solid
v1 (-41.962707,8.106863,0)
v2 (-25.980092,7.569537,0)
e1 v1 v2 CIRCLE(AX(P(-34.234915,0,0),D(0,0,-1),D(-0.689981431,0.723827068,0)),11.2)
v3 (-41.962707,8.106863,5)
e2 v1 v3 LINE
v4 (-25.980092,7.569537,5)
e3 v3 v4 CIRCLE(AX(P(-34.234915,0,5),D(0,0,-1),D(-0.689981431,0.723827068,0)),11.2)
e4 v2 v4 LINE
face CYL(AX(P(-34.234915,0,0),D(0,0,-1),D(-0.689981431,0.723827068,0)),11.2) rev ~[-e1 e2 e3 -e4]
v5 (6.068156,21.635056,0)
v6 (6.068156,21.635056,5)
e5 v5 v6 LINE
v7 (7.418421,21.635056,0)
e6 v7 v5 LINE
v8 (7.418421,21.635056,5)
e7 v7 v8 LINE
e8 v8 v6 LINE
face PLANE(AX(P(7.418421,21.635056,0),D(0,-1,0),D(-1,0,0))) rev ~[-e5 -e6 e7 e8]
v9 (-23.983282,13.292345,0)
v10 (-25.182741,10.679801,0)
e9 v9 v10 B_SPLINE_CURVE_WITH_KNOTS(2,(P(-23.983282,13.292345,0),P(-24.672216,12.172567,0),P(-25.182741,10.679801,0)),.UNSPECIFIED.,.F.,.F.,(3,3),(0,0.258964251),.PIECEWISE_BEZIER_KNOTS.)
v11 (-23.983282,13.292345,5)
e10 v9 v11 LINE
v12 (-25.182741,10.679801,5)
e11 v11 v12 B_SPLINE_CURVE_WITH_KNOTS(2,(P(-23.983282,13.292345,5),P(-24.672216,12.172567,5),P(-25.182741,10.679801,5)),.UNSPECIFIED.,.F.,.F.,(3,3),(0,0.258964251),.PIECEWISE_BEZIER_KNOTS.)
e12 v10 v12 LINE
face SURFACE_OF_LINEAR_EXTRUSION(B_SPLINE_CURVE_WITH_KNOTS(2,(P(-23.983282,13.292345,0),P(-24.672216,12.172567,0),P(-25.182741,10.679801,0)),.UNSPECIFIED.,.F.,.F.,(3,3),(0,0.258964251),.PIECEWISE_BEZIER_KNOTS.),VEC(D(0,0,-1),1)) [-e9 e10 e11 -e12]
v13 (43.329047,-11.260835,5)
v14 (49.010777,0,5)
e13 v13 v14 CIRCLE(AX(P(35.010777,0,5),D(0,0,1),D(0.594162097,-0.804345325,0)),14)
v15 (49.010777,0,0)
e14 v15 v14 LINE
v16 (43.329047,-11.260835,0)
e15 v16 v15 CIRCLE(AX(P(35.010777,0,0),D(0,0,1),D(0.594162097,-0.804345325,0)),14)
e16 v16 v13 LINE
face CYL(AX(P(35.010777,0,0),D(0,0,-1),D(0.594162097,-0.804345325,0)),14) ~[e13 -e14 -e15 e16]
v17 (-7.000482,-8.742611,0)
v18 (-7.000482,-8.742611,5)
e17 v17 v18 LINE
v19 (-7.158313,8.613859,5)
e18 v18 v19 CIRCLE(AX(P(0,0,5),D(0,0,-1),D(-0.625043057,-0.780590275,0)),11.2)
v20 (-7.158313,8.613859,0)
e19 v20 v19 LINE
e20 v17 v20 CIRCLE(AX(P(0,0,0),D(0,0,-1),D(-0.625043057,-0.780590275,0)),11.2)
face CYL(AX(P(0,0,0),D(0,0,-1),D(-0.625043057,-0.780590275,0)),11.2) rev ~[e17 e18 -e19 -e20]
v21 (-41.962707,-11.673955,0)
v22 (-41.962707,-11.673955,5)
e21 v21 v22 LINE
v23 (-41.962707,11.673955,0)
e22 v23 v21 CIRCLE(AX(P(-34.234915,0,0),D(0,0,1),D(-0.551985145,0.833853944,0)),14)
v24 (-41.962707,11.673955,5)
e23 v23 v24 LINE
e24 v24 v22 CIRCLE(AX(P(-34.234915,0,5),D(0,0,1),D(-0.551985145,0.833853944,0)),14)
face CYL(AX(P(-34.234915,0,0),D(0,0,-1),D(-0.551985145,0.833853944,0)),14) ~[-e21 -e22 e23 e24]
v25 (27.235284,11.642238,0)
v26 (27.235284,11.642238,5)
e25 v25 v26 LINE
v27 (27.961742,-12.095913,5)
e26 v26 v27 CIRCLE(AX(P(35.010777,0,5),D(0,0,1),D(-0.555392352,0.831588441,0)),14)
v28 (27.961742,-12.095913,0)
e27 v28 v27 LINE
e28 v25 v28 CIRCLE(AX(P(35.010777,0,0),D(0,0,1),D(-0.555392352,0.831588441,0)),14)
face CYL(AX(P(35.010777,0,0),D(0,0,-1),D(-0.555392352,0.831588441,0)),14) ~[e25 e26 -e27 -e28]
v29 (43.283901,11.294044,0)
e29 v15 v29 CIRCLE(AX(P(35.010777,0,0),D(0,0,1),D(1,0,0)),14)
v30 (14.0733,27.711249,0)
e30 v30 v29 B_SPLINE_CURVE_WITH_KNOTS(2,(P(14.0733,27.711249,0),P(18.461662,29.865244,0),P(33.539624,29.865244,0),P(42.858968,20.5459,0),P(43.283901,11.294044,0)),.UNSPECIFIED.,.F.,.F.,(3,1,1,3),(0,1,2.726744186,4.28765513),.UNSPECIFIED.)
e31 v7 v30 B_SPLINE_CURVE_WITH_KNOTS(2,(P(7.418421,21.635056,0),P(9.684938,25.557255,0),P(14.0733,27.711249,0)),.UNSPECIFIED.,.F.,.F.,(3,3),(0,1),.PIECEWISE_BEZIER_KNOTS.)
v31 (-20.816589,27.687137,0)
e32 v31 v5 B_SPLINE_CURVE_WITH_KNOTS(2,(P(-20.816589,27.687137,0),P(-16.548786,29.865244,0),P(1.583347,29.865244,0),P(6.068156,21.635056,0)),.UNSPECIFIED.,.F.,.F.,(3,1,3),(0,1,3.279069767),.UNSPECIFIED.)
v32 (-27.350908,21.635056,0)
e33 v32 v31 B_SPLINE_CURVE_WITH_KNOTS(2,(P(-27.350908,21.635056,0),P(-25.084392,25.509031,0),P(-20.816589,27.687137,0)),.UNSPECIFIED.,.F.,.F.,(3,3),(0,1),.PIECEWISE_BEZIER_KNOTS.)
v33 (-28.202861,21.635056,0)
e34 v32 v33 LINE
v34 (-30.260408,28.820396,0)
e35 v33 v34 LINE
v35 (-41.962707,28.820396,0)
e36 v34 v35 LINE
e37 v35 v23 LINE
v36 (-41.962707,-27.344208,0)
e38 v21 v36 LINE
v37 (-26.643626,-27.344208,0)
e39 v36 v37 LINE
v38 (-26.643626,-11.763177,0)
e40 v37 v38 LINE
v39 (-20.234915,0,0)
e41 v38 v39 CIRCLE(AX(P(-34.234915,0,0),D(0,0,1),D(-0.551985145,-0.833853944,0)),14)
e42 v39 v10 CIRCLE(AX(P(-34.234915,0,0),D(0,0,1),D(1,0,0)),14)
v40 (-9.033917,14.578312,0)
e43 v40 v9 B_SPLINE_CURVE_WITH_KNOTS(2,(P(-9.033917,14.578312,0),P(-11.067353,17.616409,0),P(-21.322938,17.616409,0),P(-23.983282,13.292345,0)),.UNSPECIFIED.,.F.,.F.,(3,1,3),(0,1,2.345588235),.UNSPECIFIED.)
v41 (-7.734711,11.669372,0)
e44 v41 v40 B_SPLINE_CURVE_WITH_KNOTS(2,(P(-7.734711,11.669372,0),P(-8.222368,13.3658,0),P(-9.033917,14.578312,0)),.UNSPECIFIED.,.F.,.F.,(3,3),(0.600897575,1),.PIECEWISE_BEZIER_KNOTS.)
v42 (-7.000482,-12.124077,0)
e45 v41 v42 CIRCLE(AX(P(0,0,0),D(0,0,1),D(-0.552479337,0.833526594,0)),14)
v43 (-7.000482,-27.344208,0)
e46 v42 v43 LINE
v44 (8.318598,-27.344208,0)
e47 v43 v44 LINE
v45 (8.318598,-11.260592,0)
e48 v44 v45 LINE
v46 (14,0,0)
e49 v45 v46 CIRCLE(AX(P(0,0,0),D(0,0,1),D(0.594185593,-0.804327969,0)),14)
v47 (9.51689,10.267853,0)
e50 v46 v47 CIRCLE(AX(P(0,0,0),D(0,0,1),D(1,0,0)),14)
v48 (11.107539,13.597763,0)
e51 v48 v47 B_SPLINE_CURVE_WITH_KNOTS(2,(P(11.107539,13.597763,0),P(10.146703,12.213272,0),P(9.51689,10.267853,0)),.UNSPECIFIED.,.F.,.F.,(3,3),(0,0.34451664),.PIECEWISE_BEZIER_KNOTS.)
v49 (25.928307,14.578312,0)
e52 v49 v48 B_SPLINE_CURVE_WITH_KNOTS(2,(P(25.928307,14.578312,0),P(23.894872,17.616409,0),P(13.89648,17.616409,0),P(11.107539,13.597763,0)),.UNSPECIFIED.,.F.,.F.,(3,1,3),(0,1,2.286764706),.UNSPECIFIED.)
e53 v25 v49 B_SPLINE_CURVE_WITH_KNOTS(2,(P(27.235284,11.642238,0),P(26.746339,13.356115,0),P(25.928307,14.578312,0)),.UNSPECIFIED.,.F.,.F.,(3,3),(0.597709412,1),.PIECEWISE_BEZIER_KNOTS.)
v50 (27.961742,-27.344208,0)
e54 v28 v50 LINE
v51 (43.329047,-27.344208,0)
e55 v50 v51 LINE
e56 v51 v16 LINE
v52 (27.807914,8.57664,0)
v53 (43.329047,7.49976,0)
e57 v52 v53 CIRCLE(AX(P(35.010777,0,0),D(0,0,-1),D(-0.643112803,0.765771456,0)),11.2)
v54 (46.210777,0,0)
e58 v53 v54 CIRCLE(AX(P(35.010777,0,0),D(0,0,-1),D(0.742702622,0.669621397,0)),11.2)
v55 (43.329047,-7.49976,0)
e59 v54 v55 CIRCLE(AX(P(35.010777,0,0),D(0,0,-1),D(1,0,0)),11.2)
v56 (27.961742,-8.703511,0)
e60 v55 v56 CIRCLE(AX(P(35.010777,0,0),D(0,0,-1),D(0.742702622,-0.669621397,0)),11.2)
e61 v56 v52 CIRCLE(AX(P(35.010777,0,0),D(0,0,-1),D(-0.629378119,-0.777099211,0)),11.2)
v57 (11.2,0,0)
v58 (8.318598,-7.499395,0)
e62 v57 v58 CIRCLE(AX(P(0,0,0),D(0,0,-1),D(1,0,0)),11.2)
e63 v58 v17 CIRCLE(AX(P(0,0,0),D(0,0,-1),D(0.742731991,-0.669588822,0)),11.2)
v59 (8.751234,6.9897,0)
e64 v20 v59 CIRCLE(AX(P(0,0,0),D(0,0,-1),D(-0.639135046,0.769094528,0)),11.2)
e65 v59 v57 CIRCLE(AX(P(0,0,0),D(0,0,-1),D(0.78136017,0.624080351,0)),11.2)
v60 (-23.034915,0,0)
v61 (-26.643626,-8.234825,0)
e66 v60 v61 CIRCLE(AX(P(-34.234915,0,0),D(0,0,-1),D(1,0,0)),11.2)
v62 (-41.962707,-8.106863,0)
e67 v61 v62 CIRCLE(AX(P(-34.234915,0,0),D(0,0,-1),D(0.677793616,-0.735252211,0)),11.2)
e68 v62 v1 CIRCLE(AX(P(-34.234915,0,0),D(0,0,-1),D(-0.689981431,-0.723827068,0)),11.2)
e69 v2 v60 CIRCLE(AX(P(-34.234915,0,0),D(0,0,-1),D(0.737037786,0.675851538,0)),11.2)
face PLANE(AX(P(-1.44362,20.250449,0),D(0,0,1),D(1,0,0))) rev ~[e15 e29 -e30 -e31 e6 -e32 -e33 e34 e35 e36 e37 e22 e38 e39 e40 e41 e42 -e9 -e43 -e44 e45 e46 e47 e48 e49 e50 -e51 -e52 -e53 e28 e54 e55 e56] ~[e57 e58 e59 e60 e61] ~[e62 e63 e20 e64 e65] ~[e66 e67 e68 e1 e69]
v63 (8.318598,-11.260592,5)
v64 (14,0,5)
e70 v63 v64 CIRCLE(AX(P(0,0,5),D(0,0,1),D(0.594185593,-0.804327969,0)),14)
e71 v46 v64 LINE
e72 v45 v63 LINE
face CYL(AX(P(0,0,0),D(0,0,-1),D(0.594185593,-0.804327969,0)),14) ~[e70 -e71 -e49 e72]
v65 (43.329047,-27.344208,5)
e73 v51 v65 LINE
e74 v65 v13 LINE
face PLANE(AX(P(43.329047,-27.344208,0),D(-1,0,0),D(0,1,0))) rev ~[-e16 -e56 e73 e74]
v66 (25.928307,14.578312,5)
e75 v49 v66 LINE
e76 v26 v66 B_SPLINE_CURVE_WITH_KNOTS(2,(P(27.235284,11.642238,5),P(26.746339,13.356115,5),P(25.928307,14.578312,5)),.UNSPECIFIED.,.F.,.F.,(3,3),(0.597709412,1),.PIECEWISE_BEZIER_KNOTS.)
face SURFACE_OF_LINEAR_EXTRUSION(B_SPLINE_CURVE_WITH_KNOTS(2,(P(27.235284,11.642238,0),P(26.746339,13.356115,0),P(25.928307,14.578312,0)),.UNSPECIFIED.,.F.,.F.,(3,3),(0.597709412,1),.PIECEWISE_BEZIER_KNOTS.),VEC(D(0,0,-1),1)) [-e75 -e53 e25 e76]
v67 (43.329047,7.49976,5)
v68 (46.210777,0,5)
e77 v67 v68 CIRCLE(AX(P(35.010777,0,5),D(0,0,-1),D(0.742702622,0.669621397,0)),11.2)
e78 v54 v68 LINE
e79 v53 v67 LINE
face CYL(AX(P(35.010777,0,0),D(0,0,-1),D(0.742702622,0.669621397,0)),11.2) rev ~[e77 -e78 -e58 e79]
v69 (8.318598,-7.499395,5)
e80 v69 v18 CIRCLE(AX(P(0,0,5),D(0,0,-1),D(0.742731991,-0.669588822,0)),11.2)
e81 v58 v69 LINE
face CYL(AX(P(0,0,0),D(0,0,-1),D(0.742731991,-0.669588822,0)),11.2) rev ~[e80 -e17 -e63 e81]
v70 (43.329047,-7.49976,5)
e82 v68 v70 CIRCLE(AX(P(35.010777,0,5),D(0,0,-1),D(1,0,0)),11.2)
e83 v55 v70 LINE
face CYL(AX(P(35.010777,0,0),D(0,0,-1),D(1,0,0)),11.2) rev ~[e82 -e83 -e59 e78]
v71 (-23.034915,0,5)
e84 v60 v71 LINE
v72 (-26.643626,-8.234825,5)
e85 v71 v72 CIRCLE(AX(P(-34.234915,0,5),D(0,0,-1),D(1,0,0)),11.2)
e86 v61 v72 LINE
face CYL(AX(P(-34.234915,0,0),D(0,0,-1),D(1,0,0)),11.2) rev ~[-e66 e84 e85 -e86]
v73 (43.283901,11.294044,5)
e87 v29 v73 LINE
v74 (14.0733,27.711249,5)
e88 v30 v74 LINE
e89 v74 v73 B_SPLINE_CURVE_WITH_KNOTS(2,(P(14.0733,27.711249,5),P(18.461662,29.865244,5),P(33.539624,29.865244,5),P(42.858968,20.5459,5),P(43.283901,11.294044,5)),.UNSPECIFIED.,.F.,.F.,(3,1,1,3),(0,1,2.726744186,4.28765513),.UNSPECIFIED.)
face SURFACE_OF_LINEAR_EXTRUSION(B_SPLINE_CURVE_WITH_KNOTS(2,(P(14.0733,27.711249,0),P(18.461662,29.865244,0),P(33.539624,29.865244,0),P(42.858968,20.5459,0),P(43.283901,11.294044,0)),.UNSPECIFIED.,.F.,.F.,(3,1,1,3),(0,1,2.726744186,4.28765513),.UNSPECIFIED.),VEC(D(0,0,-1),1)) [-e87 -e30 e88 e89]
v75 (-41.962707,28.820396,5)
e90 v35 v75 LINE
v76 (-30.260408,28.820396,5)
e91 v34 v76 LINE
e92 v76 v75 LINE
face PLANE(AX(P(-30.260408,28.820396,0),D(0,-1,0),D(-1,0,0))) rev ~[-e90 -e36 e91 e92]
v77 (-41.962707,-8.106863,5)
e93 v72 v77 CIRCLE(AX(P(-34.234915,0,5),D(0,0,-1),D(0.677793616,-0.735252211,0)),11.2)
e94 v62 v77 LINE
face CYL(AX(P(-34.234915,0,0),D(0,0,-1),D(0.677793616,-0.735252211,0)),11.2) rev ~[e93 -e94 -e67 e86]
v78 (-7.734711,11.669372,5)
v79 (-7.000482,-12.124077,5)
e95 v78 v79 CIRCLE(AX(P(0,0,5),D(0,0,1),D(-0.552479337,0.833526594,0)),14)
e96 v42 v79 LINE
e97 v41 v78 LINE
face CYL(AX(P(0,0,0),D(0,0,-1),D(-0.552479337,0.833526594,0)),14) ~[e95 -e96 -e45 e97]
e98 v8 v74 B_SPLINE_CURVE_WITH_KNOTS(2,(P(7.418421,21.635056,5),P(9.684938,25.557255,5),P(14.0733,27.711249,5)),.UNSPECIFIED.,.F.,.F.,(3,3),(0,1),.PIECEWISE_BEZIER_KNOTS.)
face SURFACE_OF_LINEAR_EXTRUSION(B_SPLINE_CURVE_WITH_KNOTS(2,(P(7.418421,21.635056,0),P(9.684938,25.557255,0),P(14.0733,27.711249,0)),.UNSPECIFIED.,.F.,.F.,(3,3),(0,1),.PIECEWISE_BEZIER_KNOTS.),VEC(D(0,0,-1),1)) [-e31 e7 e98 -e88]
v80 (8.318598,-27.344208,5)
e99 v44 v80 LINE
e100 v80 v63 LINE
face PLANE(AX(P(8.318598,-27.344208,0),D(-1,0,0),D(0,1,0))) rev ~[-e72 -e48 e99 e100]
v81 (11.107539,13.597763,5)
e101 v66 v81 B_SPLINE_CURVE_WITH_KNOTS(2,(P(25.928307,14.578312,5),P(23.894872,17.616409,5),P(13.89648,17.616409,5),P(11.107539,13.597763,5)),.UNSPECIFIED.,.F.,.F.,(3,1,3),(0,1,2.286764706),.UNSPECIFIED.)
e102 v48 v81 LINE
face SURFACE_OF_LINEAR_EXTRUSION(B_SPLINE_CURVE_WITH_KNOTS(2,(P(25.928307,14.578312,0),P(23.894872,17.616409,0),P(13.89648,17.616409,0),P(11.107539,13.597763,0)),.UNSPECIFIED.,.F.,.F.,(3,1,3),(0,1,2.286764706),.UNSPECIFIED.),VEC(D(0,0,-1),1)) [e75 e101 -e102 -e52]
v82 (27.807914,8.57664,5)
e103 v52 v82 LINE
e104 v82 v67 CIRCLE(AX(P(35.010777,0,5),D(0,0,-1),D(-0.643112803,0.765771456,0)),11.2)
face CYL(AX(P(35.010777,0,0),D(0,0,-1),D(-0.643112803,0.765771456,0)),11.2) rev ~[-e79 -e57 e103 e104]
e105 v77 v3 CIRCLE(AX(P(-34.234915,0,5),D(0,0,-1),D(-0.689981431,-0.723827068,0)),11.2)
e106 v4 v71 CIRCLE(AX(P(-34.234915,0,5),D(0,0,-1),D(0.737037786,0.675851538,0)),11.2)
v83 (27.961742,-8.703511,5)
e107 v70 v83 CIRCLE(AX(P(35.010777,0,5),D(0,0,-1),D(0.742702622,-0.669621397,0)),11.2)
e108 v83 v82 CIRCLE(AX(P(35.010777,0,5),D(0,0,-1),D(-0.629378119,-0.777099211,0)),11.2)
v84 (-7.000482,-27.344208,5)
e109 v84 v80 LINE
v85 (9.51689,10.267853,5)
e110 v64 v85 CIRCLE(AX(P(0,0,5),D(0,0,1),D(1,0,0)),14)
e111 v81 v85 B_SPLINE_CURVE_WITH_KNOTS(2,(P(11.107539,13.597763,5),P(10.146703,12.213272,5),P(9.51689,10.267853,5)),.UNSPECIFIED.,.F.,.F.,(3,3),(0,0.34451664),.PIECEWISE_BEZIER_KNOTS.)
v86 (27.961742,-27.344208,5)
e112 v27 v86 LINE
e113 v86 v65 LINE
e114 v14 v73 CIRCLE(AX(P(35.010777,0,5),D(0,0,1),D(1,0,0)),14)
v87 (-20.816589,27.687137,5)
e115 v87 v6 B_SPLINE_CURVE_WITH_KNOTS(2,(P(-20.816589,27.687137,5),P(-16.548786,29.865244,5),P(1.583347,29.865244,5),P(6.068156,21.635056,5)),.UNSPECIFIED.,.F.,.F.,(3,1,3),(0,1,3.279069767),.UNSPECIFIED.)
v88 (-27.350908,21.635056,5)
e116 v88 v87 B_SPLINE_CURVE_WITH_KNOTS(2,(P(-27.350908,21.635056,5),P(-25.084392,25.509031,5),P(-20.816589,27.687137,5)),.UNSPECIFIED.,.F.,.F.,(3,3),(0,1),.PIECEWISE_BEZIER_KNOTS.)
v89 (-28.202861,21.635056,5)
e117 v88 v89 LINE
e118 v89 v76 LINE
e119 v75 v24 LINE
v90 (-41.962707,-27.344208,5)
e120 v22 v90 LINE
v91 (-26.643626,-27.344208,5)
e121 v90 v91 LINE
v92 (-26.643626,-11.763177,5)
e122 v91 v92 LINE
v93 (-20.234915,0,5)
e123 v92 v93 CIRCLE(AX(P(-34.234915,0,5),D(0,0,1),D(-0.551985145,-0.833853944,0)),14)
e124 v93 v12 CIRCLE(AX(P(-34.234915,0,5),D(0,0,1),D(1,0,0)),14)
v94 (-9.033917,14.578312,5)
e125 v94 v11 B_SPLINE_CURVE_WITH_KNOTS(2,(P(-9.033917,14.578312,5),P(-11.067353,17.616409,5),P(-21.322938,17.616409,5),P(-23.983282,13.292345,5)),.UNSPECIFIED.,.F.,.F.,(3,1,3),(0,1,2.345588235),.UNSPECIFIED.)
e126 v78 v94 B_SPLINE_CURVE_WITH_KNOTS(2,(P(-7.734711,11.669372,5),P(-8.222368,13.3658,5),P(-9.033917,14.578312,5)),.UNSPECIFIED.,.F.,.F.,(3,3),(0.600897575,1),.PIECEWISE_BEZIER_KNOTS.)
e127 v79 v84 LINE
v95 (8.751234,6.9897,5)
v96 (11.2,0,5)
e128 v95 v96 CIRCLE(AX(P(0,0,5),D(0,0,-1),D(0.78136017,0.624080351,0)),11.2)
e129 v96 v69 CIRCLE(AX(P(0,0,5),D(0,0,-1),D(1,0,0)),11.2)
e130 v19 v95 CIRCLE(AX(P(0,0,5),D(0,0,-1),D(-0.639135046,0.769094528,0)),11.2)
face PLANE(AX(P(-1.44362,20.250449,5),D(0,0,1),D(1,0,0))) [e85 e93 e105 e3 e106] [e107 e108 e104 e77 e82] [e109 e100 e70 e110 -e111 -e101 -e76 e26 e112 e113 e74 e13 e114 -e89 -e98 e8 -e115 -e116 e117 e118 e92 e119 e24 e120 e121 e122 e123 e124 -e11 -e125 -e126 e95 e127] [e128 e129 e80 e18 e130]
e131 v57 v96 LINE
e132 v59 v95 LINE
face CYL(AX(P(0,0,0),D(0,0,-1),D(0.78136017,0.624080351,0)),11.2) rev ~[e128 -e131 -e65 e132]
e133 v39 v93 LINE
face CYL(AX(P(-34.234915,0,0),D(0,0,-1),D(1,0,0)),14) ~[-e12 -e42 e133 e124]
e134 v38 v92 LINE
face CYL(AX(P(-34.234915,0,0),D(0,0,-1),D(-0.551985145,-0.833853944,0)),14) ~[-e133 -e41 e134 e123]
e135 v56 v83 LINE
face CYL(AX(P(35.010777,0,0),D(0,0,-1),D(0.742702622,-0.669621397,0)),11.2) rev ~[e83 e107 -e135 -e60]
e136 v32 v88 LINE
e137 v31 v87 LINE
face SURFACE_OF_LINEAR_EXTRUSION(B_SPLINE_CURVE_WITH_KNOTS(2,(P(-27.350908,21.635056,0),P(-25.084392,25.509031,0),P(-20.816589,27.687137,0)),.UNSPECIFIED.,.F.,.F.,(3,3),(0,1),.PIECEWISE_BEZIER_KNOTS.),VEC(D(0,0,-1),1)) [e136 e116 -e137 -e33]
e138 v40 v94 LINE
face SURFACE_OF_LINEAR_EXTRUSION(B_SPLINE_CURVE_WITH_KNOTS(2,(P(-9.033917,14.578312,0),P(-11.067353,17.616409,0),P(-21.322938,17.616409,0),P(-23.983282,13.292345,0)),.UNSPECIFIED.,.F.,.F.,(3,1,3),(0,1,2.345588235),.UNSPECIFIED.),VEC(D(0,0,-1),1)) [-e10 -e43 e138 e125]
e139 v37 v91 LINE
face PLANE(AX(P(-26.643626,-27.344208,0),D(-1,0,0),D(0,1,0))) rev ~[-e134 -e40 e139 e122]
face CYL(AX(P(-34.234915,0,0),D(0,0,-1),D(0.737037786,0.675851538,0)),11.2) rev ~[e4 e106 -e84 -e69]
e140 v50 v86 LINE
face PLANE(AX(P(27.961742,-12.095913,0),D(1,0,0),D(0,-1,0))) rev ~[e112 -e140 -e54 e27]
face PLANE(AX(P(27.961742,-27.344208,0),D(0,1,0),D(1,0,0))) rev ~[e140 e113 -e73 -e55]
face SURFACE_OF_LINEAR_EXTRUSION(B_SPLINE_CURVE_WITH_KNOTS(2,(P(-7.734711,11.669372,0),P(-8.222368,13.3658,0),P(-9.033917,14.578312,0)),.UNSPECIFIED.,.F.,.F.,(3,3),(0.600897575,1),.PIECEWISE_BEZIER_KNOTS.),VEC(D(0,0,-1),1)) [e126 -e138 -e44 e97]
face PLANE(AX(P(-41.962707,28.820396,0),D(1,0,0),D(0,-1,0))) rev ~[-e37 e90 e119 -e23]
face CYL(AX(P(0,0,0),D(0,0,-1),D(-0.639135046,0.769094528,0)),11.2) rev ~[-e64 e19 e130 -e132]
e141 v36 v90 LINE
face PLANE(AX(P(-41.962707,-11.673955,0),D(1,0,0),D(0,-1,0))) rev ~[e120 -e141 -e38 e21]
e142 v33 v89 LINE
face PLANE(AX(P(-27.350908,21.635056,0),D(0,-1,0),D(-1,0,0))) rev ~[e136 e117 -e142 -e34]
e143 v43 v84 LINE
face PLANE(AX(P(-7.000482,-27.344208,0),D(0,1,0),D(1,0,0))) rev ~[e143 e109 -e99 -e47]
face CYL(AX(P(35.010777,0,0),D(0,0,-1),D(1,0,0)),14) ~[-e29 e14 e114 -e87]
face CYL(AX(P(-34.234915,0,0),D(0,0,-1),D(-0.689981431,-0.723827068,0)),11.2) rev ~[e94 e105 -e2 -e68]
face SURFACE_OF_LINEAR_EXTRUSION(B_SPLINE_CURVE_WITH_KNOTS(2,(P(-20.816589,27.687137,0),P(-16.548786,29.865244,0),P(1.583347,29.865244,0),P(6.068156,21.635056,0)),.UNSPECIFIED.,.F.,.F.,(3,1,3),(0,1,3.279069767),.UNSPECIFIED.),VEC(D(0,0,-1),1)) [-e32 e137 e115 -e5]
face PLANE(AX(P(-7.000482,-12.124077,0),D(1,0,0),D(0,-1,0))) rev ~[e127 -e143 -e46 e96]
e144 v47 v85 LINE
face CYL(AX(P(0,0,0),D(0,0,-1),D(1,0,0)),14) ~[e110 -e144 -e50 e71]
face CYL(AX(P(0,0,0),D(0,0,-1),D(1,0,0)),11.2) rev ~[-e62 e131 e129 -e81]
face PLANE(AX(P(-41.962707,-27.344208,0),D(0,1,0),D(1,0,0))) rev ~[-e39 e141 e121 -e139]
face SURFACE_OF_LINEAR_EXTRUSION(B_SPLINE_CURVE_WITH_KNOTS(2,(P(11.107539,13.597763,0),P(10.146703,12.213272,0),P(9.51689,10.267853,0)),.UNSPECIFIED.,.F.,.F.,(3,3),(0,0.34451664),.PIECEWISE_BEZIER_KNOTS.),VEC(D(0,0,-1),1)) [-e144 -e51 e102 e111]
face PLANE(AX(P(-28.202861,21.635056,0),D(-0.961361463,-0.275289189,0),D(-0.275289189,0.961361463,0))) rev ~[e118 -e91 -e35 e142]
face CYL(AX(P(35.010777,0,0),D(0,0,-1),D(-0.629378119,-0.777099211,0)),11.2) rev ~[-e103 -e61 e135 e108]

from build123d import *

# Parameters (mm, degrees)
F1_DEPTH = 5


with BuildPart() as f1:
    # F0 (on Top) → F1 (new body)
    with BuildSketch(Plane.XY):
        with BuildLine():
            ThreePointArc((-7.7347107175, 11.6693723103), (1.1336247824, 13.9540279078), (9.5168901863, 10.2678528029))
            add(Edge.make_bspline(
                [(11.1075389809, 13.5977625335), (10.1467025067, 12.2132719368), (9.5168901863, 10.2678528029)],
                knots=[0, 0, 0, 0.3445166401, 0.3445166401, 0.3445166401], degree=2))
            add(Edge.make_bspline(
                [(19.5225847934, 17.6164090534), (13.8964796656, 17.6164090534), (11.1075389809, 13.5977625335)],
                knots=[0, 0, 0, 1, 1, 1], degree=2))
            add(Edge.make_bspline(
                [(25.9283073461, 14.5783122844), (23.894872207, 17.6164090534), (19.5225847934, 17.6164090534)],
                knots=[0, 0, 0, 1, 1, 1], degree=2))
            add(Edge.make_bspline(
                [(27.2352844796, 11.642238171), (26.746339163, 13.35611455), (25.9283073461, 14.5783122844)],
                knots=[0.5977094124, 0.5977094124, 0.5977094124, 1, 1, 1], degree=2))
            ThreePointArc((27.2352844796, 11.642238171), (35.3144532315, 13.9967060767), (43.2839012969, 11.2940436167))
            add(Edge.make_bspline(
                [(38.4343353159, 24.9705321847), (42.858967955, 20.5458995456), (43.2839012969, 11.2940436167)],
                knots=[0, 0, 0, 0.9039618932, 0.9039618932, 0.9039618932], degree=2))
            add(Edge.make_bspline(
                [(23.9913197235, 29.8652436459), (33.5396238547, 29.8652436459), (38.4343353159, 24.9705321847)],
                knots=[0, 0, 0, 1, 1, 1], degree=2))
            add(Edge.make_bspline(
                [(14.0733001125, 27.7112491113), (18.4616621122, 29.8652436459), (23.9913197235, 29.8652436459)],
                knots=[0, 0, 0, 1, 1, 1], degree=2))
            add(Edge.make_bspline(
                [(7.4184214756, 21.6350555733), (9.6849381128, 25.5572545766), (14.0733001125, 27.7112491113)],
                knots=[0, 0, 0, 1, 1, 1], degree=2))
            Line((7.4184214756, 21.6350555733), (6.068156245, 21.6350555733))
            add(Edge.make_bspline(
                [(-11.0191287574, 29.8652436459), (1.5833467288, 29.8652436459), (6.068156245, 21.6350555733)],
                knots=[0, 0, 0, 1, 1, 1], degree=2))
            add(Edge.make_bspline(
                [(-20.8165889728, 27.6871372321), (-16.5487863688, 29.8652436459), (-11.0191287574, 29.8652436459)],
                knots=[0, 0, 0, 1, 1, 1], degree=2))
            add(Edge.make_bspline(
                [(-27.3509082141, 21.6350555733), (-25.0843915769, 25.5090308184), (-20.8165889728, 27.6871372321)],
                knots=[0, 0, 0, 1, 1, 1], degree=2))
            Line((-27.3509082141, 21.6350555733), (-28.2028612763, 21.6350555733))
            Line((-28.2028612763, 21.6350555733), (-30.2604082945, 28.8203955507))
            Line((-30.2604082945, 28.8203955507), (-41.9627069603, 28.8203955507))
            Line((-41.9627069603, 28.8203955507), (-41.9627069603, 11.673955213))
            ThreePointArc((-41.9627069603, 11.673955213), (-33.4069158912, 13.9754934651), (-25.1827411367, 10.6798010112))
            add(Edge.make_bspline(
                [(-23.9832824305, 13.292345398), (-24.672216421, 12.172567492), (-25.1827411367, 10.6798010112)],
                knots=[0, 0, 0, 0.2589642511, 0.2589642511, 0.2589642511], degree=2))
            add(Edge.make_bspline(
                [(-15.4396399293, 17.6164090534), (-21.3229384343, 17.6164090534), (-23.9832824305, 13.292345398)],
                knots=[0, 0, 0, 1, 1, 1], degree=2))
            add(Edge.make_bspline(
                [(-9.0339173766, 14.5783122844), (-11.0673525157, 17.6164090534), (-15.4396399293, 17.6164090534)],
                knots=[0, 0, 0, 1, 1, 1], degree=2))
            add(Edge.make_bspline(
                [(-7.7347107175, 11.6693723103), (-8.2223684807, 13.3658004953), (-9.0339173766, 14.5783122844)],
                knots=[0.6008975746, 0.6008975746, 0.6008975746, 1, 1, 1], degree=2))
        make_face()
        with BuildLine():
            ThreePointArc((-7.0004822376, -8.7426110769), (-11.1995369595, -0.1018424886), (-7.1583125196, 8.6138587097))
            add(Edge.make_bspline(
                [(-7.1583125196, 8.6138587097), (-7.3408988765, 10.2994084606), (-7.7347107175, 11.6693723103)],
                knots=[0.2785992893, 0.2785992893, 0.2785992893, 0.6008975746, 0.6008975746, 0.6008975746], degree=2))
            ThreePointArc((-7.7347107175, 11.6693723103), (-13.9933390581, -0.4318124639), (-7.0004822376, -12.1240772202))
            Line((-7.0004822376, -12.1240772202), (-7.0004822376, -8.7426110769))
        make_face()
        with BuildLine():
            Line((8.3185982961, -11.2605915648), (8.3185982961, -7.4993948015))
            ThreePointArc((8.3185982961, -7.4993948015), (0.9059548348, -11.1632990571), (-7.0004822376, -8.7426110769))
            Line((-7.0004822376, -8.7426110769), (-7.0004822376, -12.1240772202))
            ThreePointArc((-7.0004822376, -12.1240772202), (0.7878828309, -13.9778124413), (8.3185982961, -11.2605915648))
        make_face()
        with BuildLine():
            Line((8.3185982961, -27.3442082107), (8.3185982961, -11.2605915648))
            ThreePointArc((8.3185982961, -11.2605915648), (0.7878828309, -13.9778124413), (-7.0004822376, -12.1240772202))
            Line((-7.0004822376, -12.1240772202), (-7.0004822376, -27.3442082107))
            Line((-7.0004822376, -27.3442082107), (8.3185982961, -27.3442082107))
        make_face()
        with BuildLine():
            ThreePointArc((8.7512339046, 6.9896999325), (10.5700950737, 3.7031189738), (11.2, 0))
            ThreePointArc((11.2, 0), (10.454862527, -4.0169452998), (8.3185982961, -7.4993948015))
            Line((8.3185982961, -7.4993948015), (8.3185982961, -11.2605915648))
            ThreePointArc((8.3185982961, -11.2605915648), (12.4992074978, -6.3063310988), (14, 0))
            ThreePointArc((14, 0), (12.8303636466, 5.6019432964), (9.5168901863, 10.2678528029))
            add(Edge.make_bspline(
                [(9.5168901863, 10.2678528029), (9.0386147828, 8.7905140923), (8.7512339046, 6.9896999325)],
                knots=[0.3445166401, 0.3445166401, 0.3445166401, 0.6061403488, 0.6061403488, 0.6061403488], degree=2))
        make_face()
        with BuildLine():
            ThreePointArc((-7.1583125196, 8.6138587097), (1.1374632162, 11.1420903529), (8.7512339046, 6.9896999325))
            add(Edge.make_bspline(
                [(9.5168901863, 10.2678528029), (9.0386147828, 8.7905140923), (8.7512339046, 6.9896999325)],
                knots=[0.3445166401, 0.3445166401, 0.3445166401, 0.6061403488, 0.6061403488, 0.6061403488], degree=2))
            ThreePointArc((9.5168901863, 10.2678528029), (1.1336247824, 13.9540279078), (-7.7347107175, 11.6693723103))
            add(Edge.make_bspline(
                [(-7.1583125196, 8.6138587097), (-7.3408988765, 10.2994084606), (-7.7347107175, 11.6693723103)],
                knots=[0.2785992893, 0.2785992893, 0.2785992893, 0.6008975746, 0.6008975746, 0.6008975746], degree=2))
        make_face()
        with BuildLine():
            add(Edge.make_bspline(
                [(-25.1827411367, 10.6798010112), (-25.659071662, 9.2870178213), (-25.9800917253, 7.5695372303)],
                knots=[0.2589642511, 0.2589642511, 0.2589642511, 0.5005834596, 0.5005834596, 0.5005834596], degree=2))
            ThreePointArc((-25.1827411367, 10.6798010112), (-33.4069158912, 13.9754934651), (-41.9627069603, 11.673955213))
            Line((-41.9627069603, 11.673955213), (-41.9627069603, 8.1068631613))
            ThreePointArc((-41.9627069603, 8.1068631613), (-33.8585902643, 11.1936758818), (-25.9800917253, 7.5695372303))
        make_face()
        with BuildLine():
            ThreePointArc((-20.2349149287, 0), (-21.5319539926, 5.8851324077), (-25.1827411367, 10.6798010112))
            add(Edge.make_bspline(
                [(-25.1827411367, 10.6798010112), (-25.659071662, 9.2870178213), (-25.9800917253, 7.5695372303)],
                knots=[0.2589642511, 0.2589642511, 0.2589642511, 0.5005834596, 0.5005834596, 0.5005834596], degree=2))
            ThreePointArc((-25.9800917253, 7.5695372303), (-23.7971464919, 4.0611562468), (-23.0349149287, 0))
            ThreePointArc((-23.0349149287, 0), (-23.9766882003, -4.495418155), (-26.6436264266, -8.2348247631))
            Line((-26.6436264266, -8.2348247631), (-26.6436264266, -11.7631772442))
            ThreePointArc((-26.6436264266, -11.7631772442), (-21.9410538788, -6.6978340145), (-20.2349149287, 0))
        make_face()
        with BuildLine():
            Line((-41.9627069603, 8.1068631613), (-41.9627069603, 11.673955213))
            ThreePointArc((-41.9627069603, 11.673955213), (-48.2349149287, 0), (-41.9627069603, -11.673955213))
            Line((-41.9627069603, -11.673955213), (-41.9627069603, -8.1068631613))
            ThreePointArc((-41.9627069603, -8.1068631613), (-45.4349149287, 0), (-41.9627069603, 8.1068631613))
        make_face()
        with BuildLine():
            ThreePointArc((-41.9627069603, -11.673955213), (-34.3164529327, -13.9997625535), (-26.6436264266, -11.7631772442))
            Line((-26.6436264266, -11.7631772442), (-26.6436264266, -8.2348247631))
            ThreePointArc((-26.6436264266, -8.2348247631), (-34.3284662316, -11.1996092858), (-41.9627069603, -8.1068631613))
            Line((-41.9627069603, -8.1068631613), (-41.9627069603, -11.673955213))
        make_face()
        with BuildLine():
            Line((-26.6436264266, -27.3442082107), (-26.6436264266, -11.7631772442))
            ThreePointArc((-26.6436264266, -11.7631772442), (-34.3164529327, -13.9997625535), (-41.9627069603, -11.673955213))
            Line((-41.9627069603, -11.673955213), (-41.9627069603, -27.3442082107))
            Line((-41.9627069603, -27.3442082107), (-26.6436264266, -27.3442082107))
        make_face()
        with BuildLine():
            Line((27.9617424851, -8.7035111635), (27.9617424851, -12.0959128045))
            ThreePointArc((27.9617424851, -12.0959128045), (35.770433872, -13.9793748811), (43.329046777, -11.2608345517))
            Line((43.329046777, -11.2608345517), (43.329046777, -7.4997596496))
            ThreePointArc((43.329046777, -7.4997596496), (35.8854164475, -11.1657962797), (27.9617424851, -8.7035111635))
        make_face()
        with BuildLine():
            ThreePointArc((43.329046777, -11.2608345517), (35.770433872, -13.9793748811), (27.9617424851, -12.0959128045))
            Line((27.9617424851, -12.0959128045), (27.9617424851, -27.3442082107))
            Line((27.9617424851, -27.3442082107), (43.329046777, -27.3442082107))
            Line((43.329046777, -27.3442082107), (43.329046777, -11.2608345517))
        make_face()
        with BuildLine():
            add(Edge.make_bspline(
                [(27.8079140171, 8.576640303), (27.6274523087, 10.2675912402), (27.2352844796, 11.642238171)],
                knots=[0.275044646, 0.275044646, 0.275044646, 0.5977094124, 0.5977094124, 0.5977094124], degree=2))
            ThreePointArc((27.2352844796, 11.642238171), (21.0173286065, -0.4282411432), (27.9617424851, -12.0959128045))
            Line((27.9617424851, -12.0959128045), (27.9617424851, -8.7035111635))
            ThreePointArc((27.9617424851, -8.7035111635), (23.8112211661, -0.0996988125), (27.8079140171, 8.576640303))
        make_face()
        with BuildLine():
            ThreePointArc((49.0107774138, 0), (47.4972447758, 6.3315189977), (43.2839012969, 11.2940436167))
            add(Edge.make_bspline(
                [(43.2839012969, 11.2940436167), (43.329046777, 10.3111142096), (43.329046777, 9.2736988782)],
                knots=[0.9039618932, 0.9039618932, 0.9039618932, 1, 1, 1], degree=2))
            Line((43.329046777, 9.2736988782), (43.329046777, 7.4997596496))
            ThreePointArc((43.329046777, 7.4997596496), (45.4655518463, 4.017174575), (46.2107774138, 0))
            ThreePointArc((46.2107774138, 0), (45.4655518463, -4.017174575), (43.329046777, -7.4997596496))
            Line((43.329046777, -7.4997596496), (43.329046777, -11.2608345517))
            ThreePointArc((43.329046777, -11.2608345517), (47.5098928042, -6.3065136532), (49.0107774138, 0))
        make_face()
        with BuildLine():
            ThreePointArc((43.2839012969, 11.2940436167), (35.3144532315, 13.9967060767), (27.2352844796, 11.642238171))
            add(Edge.make_bspline(
                [(27.8079140171, 8.576640303), (27.6274523087, 10.2675912402), (27.2352844796, 11.642238171)],
                knots=[0.275044646, 0.275044646, 0.275044646, 0.5977094124, 0.5977094124, 0.5977094124], degree=2))
            ThreePointArc((27.8079140171, 8.576640303), (35.7859874518, 11.1731396392), (43.329046777, 7.4997596496))
            Line((43.329046777, 7.4997596496), (43.329046777, 9.2736988782))
            add(Edge.make_bspline(
                [(43.2839012969, 11.2940436167), (43.329046777, 10.3111142096), (43.329046777, 9.2736988782)],
                knots=[0.9039618932, 0.9039618932, 0.9039618932, 1, 1, 1], degree=2))
        make_face()
    extrude(amount=F1_DEPTH)


solid = f1.part
